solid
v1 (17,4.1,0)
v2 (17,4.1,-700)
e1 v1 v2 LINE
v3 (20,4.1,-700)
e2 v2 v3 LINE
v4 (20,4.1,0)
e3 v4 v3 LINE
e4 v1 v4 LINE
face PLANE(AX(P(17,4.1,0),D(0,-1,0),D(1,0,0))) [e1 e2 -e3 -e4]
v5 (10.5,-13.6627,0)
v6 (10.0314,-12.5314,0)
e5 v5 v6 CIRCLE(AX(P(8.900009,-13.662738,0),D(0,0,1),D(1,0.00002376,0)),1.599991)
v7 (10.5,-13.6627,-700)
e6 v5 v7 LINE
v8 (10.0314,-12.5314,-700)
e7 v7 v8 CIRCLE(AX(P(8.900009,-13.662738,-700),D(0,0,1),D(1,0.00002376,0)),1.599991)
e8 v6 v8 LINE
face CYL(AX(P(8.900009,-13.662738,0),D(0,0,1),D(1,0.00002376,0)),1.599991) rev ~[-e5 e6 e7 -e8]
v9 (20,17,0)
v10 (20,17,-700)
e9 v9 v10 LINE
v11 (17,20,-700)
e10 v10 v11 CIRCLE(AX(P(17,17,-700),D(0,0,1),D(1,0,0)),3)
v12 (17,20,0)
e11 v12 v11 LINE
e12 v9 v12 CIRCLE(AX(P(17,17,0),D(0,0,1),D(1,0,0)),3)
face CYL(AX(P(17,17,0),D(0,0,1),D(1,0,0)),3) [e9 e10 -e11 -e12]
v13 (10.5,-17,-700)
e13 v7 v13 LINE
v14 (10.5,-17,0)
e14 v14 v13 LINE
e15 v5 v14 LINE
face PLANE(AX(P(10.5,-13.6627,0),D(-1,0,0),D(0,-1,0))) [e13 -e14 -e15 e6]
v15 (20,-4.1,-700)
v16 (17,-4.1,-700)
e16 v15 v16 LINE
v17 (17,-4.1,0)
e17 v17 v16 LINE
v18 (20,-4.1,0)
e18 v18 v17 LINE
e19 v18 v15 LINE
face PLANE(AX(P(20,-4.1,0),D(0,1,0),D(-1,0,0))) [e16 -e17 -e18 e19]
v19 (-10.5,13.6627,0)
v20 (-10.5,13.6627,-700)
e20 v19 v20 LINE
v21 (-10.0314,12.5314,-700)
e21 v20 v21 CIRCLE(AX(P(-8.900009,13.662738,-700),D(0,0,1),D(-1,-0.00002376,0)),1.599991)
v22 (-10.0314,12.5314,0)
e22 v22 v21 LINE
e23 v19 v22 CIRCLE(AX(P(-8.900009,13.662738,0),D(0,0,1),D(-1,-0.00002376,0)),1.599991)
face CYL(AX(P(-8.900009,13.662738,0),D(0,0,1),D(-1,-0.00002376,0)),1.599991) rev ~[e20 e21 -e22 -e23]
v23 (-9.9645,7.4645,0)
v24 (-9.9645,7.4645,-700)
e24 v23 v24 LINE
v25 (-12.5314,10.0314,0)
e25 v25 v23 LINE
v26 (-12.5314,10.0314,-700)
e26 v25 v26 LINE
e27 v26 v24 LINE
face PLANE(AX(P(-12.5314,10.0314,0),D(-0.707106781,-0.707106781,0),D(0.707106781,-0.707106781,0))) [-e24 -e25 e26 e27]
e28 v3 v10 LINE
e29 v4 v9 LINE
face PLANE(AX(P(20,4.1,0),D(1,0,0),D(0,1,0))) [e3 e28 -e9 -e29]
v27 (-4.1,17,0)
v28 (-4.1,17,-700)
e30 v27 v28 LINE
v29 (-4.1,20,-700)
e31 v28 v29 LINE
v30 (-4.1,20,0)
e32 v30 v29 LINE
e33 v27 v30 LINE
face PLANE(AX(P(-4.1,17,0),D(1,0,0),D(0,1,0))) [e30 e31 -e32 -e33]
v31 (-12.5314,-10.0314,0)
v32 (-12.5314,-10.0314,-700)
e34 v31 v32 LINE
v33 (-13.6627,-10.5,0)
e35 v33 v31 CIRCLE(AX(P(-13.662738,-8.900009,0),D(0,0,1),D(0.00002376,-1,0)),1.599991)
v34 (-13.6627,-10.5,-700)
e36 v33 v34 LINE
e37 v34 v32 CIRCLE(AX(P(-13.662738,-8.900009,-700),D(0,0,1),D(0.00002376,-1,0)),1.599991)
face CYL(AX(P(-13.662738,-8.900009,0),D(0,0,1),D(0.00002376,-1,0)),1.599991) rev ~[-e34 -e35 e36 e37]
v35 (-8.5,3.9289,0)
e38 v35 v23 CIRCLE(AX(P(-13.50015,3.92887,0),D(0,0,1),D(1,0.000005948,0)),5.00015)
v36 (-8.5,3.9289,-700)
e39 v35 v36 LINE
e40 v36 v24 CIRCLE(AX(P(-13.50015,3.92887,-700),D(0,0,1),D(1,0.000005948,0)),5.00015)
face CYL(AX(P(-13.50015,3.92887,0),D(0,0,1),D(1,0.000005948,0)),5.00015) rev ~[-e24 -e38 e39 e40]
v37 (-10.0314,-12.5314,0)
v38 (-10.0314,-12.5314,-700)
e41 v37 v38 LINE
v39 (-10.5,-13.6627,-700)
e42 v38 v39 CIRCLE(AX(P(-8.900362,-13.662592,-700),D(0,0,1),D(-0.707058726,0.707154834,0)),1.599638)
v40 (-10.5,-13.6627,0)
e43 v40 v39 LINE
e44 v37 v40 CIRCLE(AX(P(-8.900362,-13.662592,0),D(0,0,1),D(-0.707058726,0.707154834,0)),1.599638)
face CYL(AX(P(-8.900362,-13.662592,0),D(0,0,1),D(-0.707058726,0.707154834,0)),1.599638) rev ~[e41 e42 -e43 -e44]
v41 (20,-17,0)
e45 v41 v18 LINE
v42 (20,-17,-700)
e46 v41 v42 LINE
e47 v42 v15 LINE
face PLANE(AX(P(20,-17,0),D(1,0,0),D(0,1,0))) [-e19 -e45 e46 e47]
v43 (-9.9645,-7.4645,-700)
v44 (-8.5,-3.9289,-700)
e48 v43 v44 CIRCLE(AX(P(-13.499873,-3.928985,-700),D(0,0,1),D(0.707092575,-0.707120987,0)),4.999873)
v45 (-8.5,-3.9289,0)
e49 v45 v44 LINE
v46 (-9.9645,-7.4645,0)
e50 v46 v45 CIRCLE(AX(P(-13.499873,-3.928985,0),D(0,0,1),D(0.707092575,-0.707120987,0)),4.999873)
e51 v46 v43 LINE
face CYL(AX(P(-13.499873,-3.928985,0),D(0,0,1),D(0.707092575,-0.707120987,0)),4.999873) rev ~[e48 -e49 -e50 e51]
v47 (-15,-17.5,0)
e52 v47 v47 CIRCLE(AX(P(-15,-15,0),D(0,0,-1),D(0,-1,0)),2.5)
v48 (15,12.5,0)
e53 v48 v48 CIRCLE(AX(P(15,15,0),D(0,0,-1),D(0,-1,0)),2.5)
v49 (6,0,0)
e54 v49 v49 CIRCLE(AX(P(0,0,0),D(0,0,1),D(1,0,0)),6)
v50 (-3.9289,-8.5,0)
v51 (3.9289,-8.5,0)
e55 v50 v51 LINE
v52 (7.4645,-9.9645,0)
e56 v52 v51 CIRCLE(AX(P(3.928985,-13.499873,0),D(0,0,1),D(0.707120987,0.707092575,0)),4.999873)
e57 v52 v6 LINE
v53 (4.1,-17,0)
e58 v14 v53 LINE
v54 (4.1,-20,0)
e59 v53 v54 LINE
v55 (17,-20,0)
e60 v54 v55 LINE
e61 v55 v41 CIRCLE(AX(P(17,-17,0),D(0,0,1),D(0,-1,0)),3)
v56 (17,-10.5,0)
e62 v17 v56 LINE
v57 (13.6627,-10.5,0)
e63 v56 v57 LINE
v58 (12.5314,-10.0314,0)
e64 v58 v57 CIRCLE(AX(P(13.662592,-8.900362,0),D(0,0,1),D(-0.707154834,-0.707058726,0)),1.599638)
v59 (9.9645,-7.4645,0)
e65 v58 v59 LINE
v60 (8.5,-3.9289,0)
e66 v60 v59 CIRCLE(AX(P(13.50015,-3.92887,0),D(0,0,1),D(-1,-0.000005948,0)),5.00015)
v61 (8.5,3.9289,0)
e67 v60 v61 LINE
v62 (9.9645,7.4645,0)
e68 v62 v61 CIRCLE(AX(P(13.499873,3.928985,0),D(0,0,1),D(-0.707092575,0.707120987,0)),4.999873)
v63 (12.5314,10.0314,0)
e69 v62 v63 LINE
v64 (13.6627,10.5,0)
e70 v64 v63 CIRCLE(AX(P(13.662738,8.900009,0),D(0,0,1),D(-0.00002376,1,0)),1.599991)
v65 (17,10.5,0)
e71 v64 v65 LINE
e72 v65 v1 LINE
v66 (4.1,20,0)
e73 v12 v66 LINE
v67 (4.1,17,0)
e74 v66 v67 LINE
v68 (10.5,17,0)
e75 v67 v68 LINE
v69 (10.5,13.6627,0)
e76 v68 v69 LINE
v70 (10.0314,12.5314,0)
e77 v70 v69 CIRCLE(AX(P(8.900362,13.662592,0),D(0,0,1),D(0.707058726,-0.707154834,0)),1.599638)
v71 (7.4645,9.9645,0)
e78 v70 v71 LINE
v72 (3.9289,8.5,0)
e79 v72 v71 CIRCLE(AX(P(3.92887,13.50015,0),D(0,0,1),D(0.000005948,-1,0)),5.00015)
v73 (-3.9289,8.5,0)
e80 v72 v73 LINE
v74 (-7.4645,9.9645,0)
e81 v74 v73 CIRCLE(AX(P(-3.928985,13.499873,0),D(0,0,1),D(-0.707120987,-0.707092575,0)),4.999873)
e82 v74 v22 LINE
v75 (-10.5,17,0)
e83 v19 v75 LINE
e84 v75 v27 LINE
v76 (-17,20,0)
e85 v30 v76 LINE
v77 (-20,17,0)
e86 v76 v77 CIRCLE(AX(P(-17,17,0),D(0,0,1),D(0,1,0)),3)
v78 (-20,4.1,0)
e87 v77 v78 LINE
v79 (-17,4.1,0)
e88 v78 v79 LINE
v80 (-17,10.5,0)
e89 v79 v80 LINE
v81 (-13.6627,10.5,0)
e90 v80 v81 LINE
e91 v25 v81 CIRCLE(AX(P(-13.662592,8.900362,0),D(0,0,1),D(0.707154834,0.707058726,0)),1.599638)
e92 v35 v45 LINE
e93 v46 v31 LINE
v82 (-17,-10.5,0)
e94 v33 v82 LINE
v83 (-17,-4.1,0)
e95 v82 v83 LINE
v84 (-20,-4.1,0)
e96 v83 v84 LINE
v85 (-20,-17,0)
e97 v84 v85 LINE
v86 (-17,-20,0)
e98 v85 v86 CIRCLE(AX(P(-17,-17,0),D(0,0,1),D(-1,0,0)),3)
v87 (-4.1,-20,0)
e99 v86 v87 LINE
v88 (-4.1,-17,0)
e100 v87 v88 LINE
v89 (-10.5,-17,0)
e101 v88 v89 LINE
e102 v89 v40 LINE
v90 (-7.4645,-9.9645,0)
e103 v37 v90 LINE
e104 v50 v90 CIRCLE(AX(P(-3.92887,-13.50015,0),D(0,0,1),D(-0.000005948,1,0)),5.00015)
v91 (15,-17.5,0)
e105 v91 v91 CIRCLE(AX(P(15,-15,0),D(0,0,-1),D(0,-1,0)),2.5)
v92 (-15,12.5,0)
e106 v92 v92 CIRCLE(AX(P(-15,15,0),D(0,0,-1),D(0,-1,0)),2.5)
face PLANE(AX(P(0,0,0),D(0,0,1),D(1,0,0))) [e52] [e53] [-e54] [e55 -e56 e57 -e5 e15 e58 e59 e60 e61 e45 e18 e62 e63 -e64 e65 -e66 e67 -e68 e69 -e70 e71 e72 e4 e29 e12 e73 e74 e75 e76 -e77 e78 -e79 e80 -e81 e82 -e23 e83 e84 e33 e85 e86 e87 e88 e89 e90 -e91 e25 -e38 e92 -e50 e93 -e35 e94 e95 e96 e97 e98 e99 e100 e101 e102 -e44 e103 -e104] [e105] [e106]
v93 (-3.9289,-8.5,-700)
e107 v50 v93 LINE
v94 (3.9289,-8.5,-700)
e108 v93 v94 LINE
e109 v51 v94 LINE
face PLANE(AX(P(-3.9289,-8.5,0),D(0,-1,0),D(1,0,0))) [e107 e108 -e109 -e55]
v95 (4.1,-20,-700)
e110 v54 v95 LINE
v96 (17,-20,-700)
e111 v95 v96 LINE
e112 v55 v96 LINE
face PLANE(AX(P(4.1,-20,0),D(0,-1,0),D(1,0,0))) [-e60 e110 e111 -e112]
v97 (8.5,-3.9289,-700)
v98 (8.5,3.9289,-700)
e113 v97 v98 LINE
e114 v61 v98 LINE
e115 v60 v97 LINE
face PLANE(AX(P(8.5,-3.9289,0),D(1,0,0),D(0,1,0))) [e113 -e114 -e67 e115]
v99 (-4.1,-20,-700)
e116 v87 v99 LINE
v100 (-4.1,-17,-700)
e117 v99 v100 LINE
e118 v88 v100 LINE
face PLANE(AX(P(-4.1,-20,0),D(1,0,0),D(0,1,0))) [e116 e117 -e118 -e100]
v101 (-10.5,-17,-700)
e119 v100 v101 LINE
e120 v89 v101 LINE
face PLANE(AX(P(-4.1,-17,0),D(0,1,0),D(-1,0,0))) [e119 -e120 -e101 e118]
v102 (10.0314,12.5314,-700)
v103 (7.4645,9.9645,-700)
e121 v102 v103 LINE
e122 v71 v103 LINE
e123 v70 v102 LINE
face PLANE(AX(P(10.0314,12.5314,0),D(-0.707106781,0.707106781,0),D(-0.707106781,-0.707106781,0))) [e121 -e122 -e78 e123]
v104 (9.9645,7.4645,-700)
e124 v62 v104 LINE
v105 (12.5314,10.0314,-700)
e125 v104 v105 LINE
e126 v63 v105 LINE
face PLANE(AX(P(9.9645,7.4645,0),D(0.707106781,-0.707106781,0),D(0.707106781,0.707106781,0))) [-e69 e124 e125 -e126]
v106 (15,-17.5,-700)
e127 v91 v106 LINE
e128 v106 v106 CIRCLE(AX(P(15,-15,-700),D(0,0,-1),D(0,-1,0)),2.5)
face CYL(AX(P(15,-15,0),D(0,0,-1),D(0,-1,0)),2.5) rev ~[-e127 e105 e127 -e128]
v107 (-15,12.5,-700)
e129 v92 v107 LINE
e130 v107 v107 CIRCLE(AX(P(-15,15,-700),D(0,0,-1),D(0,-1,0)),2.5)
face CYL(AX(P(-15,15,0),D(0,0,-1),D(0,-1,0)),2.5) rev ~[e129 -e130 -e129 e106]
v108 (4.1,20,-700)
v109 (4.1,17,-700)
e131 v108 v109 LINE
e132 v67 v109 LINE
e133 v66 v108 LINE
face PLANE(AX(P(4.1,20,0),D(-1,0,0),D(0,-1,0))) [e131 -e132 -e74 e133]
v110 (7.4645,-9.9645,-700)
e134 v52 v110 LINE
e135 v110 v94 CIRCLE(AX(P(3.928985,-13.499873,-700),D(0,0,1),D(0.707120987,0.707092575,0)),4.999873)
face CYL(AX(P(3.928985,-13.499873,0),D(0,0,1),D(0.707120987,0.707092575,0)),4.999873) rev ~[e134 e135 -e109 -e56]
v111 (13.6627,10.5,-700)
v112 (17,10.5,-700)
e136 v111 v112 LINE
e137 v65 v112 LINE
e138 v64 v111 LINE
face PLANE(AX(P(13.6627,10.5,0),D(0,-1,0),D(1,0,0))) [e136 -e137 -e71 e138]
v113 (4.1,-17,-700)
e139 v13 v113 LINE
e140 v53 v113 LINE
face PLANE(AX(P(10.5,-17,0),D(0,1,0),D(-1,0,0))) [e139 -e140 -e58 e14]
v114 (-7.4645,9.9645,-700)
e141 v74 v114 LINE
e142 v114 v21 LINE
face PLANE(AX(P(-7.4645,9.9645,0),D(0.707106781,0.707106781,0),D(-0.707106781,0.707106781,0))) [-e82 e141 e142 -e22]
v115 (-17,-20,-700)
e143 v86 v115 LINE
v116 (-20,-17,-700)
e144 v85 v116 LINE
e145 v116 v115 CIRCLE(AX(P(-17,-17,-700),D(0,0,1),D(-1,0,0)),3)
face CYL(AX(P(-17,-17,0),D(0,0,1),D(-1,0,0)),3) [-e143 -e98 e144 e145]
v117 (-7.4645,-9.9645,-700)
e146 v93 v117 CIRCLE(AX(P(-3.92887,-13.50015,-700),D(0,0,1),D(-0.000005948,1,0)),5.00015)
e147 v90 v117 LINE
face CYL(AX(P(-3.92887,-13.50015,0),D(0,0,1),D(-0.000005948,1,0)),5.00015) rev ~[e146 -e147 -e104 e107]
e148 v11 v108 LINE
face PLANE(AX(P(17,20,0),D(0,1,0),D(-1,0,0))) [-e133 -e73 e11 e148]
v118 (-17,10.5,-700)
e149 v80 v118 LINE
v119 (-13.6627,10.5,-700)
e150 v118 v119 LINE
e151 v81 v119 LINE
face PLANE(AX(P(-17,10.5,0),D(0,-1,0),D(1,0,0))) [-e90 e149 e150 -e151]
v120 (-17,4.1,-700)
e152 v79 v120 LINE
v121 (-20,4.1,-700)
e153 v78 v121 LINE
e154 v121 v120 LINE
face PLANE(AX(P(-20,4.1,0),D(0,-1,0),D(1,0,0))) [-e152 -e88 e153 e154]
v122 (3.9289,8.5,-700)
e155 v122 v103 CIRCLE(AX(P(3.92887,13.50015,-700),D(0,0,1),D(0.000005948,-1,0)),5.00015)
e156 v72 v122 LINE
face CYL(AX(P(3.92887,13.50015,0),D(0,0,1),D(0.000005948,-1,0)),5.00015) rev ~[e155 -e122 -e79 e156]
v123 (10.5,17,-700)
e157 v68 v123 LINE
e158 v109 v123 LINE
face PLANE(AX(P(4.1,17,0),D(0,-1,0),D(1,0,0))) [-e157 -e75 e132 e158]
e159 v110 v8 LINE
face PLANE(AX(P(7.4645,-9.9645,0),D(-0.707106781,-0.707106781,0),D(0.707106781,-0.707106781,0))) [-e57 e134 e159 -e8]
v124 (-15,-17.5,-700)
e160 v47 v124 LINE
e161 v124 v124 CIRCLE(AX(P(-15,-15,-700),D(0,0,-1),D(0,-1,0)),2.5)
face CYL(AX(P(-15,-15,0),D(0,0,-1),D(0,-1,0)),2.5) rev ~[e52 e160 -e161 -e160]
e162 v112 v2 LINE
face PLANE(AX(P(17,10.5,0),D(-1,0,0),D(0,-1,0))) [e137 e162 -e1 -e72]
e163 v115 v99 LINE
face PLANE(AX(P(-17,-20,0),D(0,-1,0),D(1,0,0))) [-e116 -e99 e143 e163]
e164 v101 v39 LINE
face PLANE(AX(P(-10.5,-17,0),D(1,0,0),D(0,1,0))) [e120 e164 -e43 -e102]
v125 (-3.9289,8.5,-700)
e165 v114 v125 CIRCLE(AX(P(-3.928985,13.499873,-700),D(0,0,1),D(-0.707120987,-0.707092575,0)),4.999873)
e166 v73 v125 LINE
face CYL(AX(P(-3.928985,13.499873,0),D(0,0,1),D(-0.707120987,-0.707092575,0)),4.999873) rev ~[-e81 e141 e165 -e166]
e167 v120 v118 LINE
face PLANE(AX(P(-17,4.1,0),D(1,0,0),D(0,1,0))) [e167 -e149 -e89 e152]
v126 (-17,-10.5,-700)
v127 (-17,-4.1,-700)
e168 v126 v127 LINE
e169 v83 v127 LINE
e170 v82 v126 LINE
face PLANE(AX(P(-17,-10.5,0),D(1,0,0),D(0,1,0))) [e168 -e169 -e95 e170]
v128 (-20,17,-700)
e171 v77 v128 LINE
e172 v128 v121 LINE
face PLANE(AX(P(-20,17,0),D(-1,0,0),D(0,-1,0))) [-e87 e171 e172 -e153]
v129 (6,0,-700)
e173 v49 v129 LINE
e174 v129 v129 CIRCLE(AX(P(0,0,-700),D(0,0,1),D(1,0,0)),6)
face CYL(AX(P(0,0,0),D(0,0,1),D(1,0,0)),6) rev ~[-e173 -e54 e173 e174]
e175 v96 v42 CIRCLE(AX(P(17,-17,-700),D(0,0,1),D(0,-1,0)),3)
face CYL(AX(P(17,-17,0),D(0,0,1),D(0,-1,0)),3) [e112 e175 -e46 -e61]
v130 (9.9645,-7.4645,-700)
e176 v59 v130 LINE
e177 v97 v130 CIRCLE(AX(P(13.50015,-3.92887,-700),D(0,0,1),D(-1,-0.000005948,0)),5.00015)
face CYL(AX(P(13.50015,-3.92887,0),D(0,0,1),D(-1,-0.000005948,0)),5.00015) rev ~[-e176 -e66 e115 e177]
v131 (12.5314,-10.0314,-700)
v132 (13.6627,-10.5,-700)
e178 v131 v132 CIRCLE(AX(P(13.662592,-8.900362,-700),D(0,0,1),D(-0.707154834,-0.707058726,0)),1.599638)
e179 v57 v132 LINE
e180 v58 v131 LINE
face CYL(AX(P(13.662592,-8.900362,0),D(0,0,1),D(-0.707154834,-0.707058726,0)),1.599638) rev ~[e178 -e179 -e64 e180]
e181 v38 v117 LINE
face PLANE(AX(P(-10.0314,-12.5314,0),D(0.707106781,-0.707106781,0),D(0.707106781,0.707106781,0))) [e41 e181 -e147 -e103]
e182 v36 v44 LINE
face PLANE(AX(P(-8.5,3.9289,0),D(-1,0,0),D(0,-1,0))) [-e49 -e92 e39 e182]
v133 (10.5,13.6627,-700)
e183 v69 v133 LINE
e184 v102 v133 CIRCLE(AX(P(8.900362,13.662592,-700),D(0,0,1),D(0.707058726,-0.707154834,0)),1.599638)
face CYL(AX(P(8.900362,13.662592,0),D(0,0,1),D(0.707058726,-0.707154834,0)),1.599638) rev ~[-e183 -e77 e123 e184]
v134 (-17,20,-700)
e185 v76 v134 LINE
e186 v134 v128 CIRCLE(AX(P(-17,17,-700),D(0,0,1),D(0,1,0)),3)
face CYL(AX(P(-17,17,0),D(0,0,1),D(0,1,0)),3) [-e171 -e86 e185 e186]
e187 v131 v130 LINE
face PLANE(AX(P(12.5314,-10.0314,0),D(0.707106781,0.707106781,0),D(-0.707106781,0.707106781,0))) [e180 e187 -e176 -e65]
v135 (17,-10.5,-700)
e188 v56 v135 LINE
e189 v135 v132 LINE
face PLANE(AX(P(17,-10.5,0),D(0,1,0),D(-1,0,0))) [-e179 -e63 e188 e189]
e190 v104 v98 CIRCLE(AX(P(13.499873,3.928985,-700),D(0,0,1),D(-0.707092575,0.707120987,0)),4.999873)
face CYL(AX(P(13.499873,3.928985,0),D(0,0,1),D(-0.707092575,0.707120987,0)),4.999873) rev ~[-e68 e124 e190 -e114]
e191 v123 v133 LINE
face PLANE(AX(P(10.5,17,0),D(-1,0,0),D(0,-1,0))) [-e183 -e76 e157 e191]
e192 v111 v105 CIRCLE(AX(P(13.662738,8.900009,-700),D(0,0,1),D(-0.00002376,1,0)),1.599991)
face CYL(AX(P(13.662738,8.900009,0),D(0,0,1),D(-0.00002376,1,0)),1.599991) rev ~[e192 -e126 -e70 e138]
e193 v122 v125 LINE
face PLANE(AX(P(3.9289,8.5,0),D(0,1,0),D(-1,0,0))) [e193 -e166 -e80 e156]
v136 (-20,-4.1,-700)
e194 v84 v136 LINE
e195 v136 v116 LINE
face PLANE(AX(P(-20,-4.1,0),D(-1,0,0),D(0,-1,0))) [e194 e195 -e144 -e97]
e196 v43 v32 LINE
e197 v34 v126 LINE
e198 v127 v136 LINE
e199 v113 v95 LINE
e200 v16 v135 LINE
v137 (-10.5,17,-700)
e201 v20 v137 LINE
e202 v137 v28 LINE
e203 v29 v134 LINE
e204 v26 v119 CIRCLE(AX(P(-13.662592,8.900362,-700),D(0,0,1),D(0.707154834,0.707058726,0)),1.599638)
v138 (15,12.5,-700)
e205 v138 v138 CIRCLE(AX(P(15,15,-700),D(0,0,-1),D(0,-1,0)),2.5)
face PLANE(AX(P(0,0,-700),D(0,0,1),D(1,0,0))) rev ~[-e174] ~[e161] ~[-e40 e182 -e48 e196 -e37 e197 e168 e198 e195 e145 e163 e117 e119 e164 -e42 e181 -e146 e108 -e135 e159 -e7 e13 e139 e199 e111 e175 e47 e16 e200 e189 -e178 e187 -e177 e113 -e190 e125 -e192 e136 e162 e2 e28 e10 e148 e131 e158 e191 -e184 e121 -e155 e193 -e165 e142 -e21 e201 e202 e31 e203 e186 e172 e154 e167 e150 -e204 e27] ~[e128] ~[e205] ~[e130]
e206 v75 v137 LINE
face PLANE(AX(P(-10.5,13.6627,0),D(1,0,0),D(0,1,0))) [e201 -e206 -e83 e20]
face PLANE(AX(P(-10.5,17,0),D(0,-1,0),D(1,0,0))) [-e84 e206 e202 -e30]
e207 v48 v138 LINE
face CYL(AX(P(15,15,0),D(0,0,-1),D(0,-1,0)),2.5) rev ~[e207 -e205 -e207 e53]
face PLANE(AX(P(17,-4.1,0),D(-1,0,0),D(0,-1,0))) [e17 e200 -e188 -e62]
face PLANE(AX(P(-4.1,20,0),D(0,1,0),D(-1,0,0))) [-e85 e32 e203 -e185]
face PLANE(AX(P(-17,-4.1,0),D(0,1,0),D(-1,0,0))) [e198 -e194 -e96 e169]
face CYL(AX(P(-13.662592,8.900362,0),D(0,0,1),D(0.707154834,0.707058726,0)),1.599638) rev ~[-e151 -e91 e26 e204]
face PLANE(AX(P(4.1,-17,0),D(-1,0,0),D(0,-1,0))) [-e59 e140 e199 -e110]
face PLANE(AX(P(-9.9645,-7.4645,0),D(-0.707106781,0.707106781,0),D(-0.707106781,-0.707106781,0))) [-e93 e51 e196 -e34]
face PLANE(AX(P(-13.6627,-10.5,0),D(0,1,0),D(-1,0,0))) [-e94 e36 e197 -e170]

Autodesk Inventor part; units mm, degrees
sketch "Skizze_1" plane through (0, 0, 0) normal (0, 0, 1) x (1, 0, 0)
  arc A0 (-20, -17) -> (-17, -20) centre (-17, -17) ccw
  line L0 (-17, -20) -> (-4.1, -20)
  line L1 (-4.1, -20) -> (-4.1, -17)
  line L2 (-4.1, -17) -> (-10.5, -17)
  line L3 (-10.5, -17) -> (-10.5, -13.6627)
  arc A1 (-10.0314, -12.5314) -> (-10.5, -13.6627) centre (-8.9002, -13.6627) ccw
  line L4 (-10.0314, -12.5314) -> (-7.4645, -9.9645)
  arc A2 (-3.9289, -8.5) -> (-7.4645, -9.9645) centre (-3.9289, -13.5) ccw
  line L5 (-3.9289, -8.5) -> (3.9289, -8.5)
  arc A3 (7.4645, -9.9645) -> (3.9289, -8.5) centre (3.9289, -13.5) ccw
  line L6 (7.4645, -9.9645) -> (10.0314, -12.5314)
  arc A4 (10.5, -13.6627) -> (10.0314, -12.5314) centre (8.9002, -13.6627) ccw
  line L7 (10.5, -13.6627) -> (10.5, -17)
  line L8 (10.5, -17) -> (4.1, -17)
  line L9 (4.1, -17) -> (4.1, -20)
  line L10 (4.1, -20) -> (17, -20)
  arc A5 (17, -20) -> (20, -17) centre (17, -17) ccw
  line L11 (20, -17) -> (20, -4.1)
  line L12 (20, -4.1) -> (17, -4.1)
  line L13 (17, -4.1) -> (17, -10.5)
  line L14 (17, -10.5) -> (13.6627, -10.5)
  arc A6 (12.5314, -10.0314) -> (13.6627, -10.5) centre (13.6627, -8.9002) ccw
  line L15 (12.5314, -10.0314) -> (9.9645, -7.4645)
  arc A7 (8.5, -3.9289) -> (9.9645, -7.4645) centre (13.5, -3.9289) ccw
  line L16 (8.5, -3.9289) -> (8.5, 3.9289)
  arc A8 (9.9645, 7.4645) -> (8.5, 3.9289) centre (13.5, 3.9289) ccw
  line L17 (9.9645, 7.4645) -> (12.5314, 10.0314)
  arc A9 (13.6627, 10.5) -> (12.5314, 10.0314) centre (13.6627, 8.9002) ccw
  line L18 (13.6627, 10.5) -> (17, 10.5)
  line L19 (17, 10.5) -> (17, 4.1)
  line L20 (17, 4.1) -> (20, 4.1)
  line L21 (20, 4.1) -> (20, 17)
  arc A10 (20, 17) -> (17, 20) centre (17, 17) ccw
  line L22 (17, 20) -> (4.1, 20)
  line L23 (4.1, 20) -> (4.1, 17)
  line L24 (4.1, 17) -> (10.5, 17)
  line L25 (10.5, 17) -> (10.5, 13.6627)
  arc A11 (10.0314, 12.5314) -> (10.5, 13.6627) centre (8.9002, 13.6627) ccw
  line L26 (10.0314, 12.5314) -> (7.4645, 9.9645)
  arc A12 (3.9289, 8.5) -> (7.4645, 9.9645) centre (3.9289, 13.5) ccw
  line L27 (3.9289, 8.5) -> (-3.9289, 8.5)
  arc A13 (-7.4645, 9.9645) -> (-3.9289, 8.5) centre (-3.9289, 13.5) ccw
  line L28 (-7.4645, 9.9645) -> (-10.0314, 12.5314)
  arc A14 (-10.5, 13.6627) -> (-10.0314, 12.5314) centre (-8.9002, 13.6627) ccw
  line L29 (-10.5, 13.6627) -> (-10.5, 17)
  line L30 (-10.5, 17) -> (-4.1, 17)
  line L31 (-4.1, 17) -> (-4.1, 20)
  line L32 (-4.1, 20) -> (-17, 20)
  arc A15 (-17, 20) -> (-20, 17) centre (-17, 17) ccw
  line L33 (-20, 17) -> (-20, 4.1)
  line L34 (-20, 4.1) -> (-17, 4.1)
  line L35 (-17, 4.1) -> (-17, 10.5)
  line L36 (-17, 10.5) -> (-13.6627, 10.5)
  arc A16 (-12.5314, 10.0314) -> (-13.6627, 10.5) centre (-13.6627, 8.9002) ccw
  line L37 (-12.5314, 10.0314) -> (-9.9645, 7.4645)
  arc A17 (-8.5, 3.9289) -> (-9.9645, 7.4645) centre (-13.5, 3.9289) ccw
  line L38 (-8.5, 3.9289) -> (-8.5, -3.9289)
  arc A18 (-9.9645, -7.4645) -> (-8.5, -3.9289) centre (-13.5, -3.9289) ccw
  line L39 (-9.9645, -7.4645) -> (-12.5314, -10.0314)
  arc A19 (-13.6627, -10.5) -> (-12.5314, -10.0314) centre (-13.6627, -8.9002) ccw
  line L40 (-13.6627, -10.5) -> (-17, -10.5)
  line L41 (-17, -10.5) -> (-17, -4.1)
  line L42 (-17, -4.1) -> (-20, -4.1)
  line L43 (-20, -4.1) -> (-20, -17)
  circle A20 centre (0, 0) radius 6
extrude "Extrusion1" add sketch "Skizze_1" against normal blind 700
sketch "Sketch2" plane through (0, 0, 0) normal (0, 0, 1) x (1, 0, 0)
  point P0 (-15, -15)
hole "Drilling 1" at (-15, -15, 0) direction (0, 0, -1) diameter 5 depth 6000
sketch "Sketch3" plane through (0, 0, 0) normal (0, 0, 1) x (1, 0, 0)
  point P0 (15, -15)
hole "Drilling 2" at (15, -15, 0) direction (0, 0, -1) diameter 5 depth 6000
sketch "Sketch4" plane through (0, 0, 0) normal (0, 0, 1) x (1, 0, 0)
  point P0 (15, 15)
hole "Drilling 3" at (15, 15, 0) direction (0, 0, -1) diameter 5 depth 6000
sketch "Sketch5" plane through (0, 0, 0) normal (0, 0, 1) x (1, 0, 0)
  point P0 (-15, 15)
hole "Drilling 4" at (-15, 15, 0) direction (0, 0, -1) diameter 5 depth 6000
ref_plane "side_4d_XY" through (-20, 0, -350) normal (-1, 0, 0) x (0, 1, 0)
ref_plane "side_4d_YZ" through (-20, 0, -350) normal (0, 1, 0) x (0, 0, -1)
ref_plane "side_4d_ZX" through (-20, 0, -350) normal (0, 0, -1) x (-1, 0, 0)
ref_plane "side_1a_XY" through (0, 20, -350) normal (0, 1, 0) x (1, 0, 0)
ref_plane "side_1a_YZ" through (0, 20, -350) normal (1, 0, 0) x (0, 0, -1)
ref_plane "side_1a_ZX" through (0, 20, -350) normal (0, 0, -1) x (0, 1, 0)
ref_plane "side_2b_XY" through (20, 0, -350) normal (1, 0, 0) x (0, -1, 0)
ref_plane "side_2b_YZ" through (20, 0, -350) normal (0, -1, 0) x (0, 0, -1)
ref_plane "side_2b_ZX" through (20, 0, -350) normal (0, 0, -1) x (1, 0, 0)
ref_plane "side_3c_XY" through (0, -20, -350) normal (0, -1, 0) x (-1, 0, 0)
ref_plane "side_3c_YZ" through (0, -20, -350) normal (-1, 0, 0) x (0, 0, -1)
ref_plane "side_3c_ZX" through (0, -20, -350) normal (0, 0, -1) x (0, -1, 0)
ref_plane "end_XY" through (0, 0, -700) normal (0, 0, -1) x (1, 0, 0)
ref_plane "end_YZ" through (0, 0, -700) normal (1, 0, 0) x (0, -1, 0)
ref_plane "end_ZX" through (0, 0, -700) normal (0, -1, 0) x (0, 0, -1)
ref_plane "start_XY" through (0, 0, 0) normal (0, 0, 1) x (1, 0, 0)
ref_plane "start_YZ" through (0, 0, 0) normal (1, 0, 0) x (0, 1, 0)
ref_plane "start_ZX" through (0, 0, 0) normal (0, 1, 0) x (0, 0, 1)
properties part number "MayTec 1.11.040040.43S_Profile 40x40, 4E, S_700_Detail_(0;0,0,0)"
